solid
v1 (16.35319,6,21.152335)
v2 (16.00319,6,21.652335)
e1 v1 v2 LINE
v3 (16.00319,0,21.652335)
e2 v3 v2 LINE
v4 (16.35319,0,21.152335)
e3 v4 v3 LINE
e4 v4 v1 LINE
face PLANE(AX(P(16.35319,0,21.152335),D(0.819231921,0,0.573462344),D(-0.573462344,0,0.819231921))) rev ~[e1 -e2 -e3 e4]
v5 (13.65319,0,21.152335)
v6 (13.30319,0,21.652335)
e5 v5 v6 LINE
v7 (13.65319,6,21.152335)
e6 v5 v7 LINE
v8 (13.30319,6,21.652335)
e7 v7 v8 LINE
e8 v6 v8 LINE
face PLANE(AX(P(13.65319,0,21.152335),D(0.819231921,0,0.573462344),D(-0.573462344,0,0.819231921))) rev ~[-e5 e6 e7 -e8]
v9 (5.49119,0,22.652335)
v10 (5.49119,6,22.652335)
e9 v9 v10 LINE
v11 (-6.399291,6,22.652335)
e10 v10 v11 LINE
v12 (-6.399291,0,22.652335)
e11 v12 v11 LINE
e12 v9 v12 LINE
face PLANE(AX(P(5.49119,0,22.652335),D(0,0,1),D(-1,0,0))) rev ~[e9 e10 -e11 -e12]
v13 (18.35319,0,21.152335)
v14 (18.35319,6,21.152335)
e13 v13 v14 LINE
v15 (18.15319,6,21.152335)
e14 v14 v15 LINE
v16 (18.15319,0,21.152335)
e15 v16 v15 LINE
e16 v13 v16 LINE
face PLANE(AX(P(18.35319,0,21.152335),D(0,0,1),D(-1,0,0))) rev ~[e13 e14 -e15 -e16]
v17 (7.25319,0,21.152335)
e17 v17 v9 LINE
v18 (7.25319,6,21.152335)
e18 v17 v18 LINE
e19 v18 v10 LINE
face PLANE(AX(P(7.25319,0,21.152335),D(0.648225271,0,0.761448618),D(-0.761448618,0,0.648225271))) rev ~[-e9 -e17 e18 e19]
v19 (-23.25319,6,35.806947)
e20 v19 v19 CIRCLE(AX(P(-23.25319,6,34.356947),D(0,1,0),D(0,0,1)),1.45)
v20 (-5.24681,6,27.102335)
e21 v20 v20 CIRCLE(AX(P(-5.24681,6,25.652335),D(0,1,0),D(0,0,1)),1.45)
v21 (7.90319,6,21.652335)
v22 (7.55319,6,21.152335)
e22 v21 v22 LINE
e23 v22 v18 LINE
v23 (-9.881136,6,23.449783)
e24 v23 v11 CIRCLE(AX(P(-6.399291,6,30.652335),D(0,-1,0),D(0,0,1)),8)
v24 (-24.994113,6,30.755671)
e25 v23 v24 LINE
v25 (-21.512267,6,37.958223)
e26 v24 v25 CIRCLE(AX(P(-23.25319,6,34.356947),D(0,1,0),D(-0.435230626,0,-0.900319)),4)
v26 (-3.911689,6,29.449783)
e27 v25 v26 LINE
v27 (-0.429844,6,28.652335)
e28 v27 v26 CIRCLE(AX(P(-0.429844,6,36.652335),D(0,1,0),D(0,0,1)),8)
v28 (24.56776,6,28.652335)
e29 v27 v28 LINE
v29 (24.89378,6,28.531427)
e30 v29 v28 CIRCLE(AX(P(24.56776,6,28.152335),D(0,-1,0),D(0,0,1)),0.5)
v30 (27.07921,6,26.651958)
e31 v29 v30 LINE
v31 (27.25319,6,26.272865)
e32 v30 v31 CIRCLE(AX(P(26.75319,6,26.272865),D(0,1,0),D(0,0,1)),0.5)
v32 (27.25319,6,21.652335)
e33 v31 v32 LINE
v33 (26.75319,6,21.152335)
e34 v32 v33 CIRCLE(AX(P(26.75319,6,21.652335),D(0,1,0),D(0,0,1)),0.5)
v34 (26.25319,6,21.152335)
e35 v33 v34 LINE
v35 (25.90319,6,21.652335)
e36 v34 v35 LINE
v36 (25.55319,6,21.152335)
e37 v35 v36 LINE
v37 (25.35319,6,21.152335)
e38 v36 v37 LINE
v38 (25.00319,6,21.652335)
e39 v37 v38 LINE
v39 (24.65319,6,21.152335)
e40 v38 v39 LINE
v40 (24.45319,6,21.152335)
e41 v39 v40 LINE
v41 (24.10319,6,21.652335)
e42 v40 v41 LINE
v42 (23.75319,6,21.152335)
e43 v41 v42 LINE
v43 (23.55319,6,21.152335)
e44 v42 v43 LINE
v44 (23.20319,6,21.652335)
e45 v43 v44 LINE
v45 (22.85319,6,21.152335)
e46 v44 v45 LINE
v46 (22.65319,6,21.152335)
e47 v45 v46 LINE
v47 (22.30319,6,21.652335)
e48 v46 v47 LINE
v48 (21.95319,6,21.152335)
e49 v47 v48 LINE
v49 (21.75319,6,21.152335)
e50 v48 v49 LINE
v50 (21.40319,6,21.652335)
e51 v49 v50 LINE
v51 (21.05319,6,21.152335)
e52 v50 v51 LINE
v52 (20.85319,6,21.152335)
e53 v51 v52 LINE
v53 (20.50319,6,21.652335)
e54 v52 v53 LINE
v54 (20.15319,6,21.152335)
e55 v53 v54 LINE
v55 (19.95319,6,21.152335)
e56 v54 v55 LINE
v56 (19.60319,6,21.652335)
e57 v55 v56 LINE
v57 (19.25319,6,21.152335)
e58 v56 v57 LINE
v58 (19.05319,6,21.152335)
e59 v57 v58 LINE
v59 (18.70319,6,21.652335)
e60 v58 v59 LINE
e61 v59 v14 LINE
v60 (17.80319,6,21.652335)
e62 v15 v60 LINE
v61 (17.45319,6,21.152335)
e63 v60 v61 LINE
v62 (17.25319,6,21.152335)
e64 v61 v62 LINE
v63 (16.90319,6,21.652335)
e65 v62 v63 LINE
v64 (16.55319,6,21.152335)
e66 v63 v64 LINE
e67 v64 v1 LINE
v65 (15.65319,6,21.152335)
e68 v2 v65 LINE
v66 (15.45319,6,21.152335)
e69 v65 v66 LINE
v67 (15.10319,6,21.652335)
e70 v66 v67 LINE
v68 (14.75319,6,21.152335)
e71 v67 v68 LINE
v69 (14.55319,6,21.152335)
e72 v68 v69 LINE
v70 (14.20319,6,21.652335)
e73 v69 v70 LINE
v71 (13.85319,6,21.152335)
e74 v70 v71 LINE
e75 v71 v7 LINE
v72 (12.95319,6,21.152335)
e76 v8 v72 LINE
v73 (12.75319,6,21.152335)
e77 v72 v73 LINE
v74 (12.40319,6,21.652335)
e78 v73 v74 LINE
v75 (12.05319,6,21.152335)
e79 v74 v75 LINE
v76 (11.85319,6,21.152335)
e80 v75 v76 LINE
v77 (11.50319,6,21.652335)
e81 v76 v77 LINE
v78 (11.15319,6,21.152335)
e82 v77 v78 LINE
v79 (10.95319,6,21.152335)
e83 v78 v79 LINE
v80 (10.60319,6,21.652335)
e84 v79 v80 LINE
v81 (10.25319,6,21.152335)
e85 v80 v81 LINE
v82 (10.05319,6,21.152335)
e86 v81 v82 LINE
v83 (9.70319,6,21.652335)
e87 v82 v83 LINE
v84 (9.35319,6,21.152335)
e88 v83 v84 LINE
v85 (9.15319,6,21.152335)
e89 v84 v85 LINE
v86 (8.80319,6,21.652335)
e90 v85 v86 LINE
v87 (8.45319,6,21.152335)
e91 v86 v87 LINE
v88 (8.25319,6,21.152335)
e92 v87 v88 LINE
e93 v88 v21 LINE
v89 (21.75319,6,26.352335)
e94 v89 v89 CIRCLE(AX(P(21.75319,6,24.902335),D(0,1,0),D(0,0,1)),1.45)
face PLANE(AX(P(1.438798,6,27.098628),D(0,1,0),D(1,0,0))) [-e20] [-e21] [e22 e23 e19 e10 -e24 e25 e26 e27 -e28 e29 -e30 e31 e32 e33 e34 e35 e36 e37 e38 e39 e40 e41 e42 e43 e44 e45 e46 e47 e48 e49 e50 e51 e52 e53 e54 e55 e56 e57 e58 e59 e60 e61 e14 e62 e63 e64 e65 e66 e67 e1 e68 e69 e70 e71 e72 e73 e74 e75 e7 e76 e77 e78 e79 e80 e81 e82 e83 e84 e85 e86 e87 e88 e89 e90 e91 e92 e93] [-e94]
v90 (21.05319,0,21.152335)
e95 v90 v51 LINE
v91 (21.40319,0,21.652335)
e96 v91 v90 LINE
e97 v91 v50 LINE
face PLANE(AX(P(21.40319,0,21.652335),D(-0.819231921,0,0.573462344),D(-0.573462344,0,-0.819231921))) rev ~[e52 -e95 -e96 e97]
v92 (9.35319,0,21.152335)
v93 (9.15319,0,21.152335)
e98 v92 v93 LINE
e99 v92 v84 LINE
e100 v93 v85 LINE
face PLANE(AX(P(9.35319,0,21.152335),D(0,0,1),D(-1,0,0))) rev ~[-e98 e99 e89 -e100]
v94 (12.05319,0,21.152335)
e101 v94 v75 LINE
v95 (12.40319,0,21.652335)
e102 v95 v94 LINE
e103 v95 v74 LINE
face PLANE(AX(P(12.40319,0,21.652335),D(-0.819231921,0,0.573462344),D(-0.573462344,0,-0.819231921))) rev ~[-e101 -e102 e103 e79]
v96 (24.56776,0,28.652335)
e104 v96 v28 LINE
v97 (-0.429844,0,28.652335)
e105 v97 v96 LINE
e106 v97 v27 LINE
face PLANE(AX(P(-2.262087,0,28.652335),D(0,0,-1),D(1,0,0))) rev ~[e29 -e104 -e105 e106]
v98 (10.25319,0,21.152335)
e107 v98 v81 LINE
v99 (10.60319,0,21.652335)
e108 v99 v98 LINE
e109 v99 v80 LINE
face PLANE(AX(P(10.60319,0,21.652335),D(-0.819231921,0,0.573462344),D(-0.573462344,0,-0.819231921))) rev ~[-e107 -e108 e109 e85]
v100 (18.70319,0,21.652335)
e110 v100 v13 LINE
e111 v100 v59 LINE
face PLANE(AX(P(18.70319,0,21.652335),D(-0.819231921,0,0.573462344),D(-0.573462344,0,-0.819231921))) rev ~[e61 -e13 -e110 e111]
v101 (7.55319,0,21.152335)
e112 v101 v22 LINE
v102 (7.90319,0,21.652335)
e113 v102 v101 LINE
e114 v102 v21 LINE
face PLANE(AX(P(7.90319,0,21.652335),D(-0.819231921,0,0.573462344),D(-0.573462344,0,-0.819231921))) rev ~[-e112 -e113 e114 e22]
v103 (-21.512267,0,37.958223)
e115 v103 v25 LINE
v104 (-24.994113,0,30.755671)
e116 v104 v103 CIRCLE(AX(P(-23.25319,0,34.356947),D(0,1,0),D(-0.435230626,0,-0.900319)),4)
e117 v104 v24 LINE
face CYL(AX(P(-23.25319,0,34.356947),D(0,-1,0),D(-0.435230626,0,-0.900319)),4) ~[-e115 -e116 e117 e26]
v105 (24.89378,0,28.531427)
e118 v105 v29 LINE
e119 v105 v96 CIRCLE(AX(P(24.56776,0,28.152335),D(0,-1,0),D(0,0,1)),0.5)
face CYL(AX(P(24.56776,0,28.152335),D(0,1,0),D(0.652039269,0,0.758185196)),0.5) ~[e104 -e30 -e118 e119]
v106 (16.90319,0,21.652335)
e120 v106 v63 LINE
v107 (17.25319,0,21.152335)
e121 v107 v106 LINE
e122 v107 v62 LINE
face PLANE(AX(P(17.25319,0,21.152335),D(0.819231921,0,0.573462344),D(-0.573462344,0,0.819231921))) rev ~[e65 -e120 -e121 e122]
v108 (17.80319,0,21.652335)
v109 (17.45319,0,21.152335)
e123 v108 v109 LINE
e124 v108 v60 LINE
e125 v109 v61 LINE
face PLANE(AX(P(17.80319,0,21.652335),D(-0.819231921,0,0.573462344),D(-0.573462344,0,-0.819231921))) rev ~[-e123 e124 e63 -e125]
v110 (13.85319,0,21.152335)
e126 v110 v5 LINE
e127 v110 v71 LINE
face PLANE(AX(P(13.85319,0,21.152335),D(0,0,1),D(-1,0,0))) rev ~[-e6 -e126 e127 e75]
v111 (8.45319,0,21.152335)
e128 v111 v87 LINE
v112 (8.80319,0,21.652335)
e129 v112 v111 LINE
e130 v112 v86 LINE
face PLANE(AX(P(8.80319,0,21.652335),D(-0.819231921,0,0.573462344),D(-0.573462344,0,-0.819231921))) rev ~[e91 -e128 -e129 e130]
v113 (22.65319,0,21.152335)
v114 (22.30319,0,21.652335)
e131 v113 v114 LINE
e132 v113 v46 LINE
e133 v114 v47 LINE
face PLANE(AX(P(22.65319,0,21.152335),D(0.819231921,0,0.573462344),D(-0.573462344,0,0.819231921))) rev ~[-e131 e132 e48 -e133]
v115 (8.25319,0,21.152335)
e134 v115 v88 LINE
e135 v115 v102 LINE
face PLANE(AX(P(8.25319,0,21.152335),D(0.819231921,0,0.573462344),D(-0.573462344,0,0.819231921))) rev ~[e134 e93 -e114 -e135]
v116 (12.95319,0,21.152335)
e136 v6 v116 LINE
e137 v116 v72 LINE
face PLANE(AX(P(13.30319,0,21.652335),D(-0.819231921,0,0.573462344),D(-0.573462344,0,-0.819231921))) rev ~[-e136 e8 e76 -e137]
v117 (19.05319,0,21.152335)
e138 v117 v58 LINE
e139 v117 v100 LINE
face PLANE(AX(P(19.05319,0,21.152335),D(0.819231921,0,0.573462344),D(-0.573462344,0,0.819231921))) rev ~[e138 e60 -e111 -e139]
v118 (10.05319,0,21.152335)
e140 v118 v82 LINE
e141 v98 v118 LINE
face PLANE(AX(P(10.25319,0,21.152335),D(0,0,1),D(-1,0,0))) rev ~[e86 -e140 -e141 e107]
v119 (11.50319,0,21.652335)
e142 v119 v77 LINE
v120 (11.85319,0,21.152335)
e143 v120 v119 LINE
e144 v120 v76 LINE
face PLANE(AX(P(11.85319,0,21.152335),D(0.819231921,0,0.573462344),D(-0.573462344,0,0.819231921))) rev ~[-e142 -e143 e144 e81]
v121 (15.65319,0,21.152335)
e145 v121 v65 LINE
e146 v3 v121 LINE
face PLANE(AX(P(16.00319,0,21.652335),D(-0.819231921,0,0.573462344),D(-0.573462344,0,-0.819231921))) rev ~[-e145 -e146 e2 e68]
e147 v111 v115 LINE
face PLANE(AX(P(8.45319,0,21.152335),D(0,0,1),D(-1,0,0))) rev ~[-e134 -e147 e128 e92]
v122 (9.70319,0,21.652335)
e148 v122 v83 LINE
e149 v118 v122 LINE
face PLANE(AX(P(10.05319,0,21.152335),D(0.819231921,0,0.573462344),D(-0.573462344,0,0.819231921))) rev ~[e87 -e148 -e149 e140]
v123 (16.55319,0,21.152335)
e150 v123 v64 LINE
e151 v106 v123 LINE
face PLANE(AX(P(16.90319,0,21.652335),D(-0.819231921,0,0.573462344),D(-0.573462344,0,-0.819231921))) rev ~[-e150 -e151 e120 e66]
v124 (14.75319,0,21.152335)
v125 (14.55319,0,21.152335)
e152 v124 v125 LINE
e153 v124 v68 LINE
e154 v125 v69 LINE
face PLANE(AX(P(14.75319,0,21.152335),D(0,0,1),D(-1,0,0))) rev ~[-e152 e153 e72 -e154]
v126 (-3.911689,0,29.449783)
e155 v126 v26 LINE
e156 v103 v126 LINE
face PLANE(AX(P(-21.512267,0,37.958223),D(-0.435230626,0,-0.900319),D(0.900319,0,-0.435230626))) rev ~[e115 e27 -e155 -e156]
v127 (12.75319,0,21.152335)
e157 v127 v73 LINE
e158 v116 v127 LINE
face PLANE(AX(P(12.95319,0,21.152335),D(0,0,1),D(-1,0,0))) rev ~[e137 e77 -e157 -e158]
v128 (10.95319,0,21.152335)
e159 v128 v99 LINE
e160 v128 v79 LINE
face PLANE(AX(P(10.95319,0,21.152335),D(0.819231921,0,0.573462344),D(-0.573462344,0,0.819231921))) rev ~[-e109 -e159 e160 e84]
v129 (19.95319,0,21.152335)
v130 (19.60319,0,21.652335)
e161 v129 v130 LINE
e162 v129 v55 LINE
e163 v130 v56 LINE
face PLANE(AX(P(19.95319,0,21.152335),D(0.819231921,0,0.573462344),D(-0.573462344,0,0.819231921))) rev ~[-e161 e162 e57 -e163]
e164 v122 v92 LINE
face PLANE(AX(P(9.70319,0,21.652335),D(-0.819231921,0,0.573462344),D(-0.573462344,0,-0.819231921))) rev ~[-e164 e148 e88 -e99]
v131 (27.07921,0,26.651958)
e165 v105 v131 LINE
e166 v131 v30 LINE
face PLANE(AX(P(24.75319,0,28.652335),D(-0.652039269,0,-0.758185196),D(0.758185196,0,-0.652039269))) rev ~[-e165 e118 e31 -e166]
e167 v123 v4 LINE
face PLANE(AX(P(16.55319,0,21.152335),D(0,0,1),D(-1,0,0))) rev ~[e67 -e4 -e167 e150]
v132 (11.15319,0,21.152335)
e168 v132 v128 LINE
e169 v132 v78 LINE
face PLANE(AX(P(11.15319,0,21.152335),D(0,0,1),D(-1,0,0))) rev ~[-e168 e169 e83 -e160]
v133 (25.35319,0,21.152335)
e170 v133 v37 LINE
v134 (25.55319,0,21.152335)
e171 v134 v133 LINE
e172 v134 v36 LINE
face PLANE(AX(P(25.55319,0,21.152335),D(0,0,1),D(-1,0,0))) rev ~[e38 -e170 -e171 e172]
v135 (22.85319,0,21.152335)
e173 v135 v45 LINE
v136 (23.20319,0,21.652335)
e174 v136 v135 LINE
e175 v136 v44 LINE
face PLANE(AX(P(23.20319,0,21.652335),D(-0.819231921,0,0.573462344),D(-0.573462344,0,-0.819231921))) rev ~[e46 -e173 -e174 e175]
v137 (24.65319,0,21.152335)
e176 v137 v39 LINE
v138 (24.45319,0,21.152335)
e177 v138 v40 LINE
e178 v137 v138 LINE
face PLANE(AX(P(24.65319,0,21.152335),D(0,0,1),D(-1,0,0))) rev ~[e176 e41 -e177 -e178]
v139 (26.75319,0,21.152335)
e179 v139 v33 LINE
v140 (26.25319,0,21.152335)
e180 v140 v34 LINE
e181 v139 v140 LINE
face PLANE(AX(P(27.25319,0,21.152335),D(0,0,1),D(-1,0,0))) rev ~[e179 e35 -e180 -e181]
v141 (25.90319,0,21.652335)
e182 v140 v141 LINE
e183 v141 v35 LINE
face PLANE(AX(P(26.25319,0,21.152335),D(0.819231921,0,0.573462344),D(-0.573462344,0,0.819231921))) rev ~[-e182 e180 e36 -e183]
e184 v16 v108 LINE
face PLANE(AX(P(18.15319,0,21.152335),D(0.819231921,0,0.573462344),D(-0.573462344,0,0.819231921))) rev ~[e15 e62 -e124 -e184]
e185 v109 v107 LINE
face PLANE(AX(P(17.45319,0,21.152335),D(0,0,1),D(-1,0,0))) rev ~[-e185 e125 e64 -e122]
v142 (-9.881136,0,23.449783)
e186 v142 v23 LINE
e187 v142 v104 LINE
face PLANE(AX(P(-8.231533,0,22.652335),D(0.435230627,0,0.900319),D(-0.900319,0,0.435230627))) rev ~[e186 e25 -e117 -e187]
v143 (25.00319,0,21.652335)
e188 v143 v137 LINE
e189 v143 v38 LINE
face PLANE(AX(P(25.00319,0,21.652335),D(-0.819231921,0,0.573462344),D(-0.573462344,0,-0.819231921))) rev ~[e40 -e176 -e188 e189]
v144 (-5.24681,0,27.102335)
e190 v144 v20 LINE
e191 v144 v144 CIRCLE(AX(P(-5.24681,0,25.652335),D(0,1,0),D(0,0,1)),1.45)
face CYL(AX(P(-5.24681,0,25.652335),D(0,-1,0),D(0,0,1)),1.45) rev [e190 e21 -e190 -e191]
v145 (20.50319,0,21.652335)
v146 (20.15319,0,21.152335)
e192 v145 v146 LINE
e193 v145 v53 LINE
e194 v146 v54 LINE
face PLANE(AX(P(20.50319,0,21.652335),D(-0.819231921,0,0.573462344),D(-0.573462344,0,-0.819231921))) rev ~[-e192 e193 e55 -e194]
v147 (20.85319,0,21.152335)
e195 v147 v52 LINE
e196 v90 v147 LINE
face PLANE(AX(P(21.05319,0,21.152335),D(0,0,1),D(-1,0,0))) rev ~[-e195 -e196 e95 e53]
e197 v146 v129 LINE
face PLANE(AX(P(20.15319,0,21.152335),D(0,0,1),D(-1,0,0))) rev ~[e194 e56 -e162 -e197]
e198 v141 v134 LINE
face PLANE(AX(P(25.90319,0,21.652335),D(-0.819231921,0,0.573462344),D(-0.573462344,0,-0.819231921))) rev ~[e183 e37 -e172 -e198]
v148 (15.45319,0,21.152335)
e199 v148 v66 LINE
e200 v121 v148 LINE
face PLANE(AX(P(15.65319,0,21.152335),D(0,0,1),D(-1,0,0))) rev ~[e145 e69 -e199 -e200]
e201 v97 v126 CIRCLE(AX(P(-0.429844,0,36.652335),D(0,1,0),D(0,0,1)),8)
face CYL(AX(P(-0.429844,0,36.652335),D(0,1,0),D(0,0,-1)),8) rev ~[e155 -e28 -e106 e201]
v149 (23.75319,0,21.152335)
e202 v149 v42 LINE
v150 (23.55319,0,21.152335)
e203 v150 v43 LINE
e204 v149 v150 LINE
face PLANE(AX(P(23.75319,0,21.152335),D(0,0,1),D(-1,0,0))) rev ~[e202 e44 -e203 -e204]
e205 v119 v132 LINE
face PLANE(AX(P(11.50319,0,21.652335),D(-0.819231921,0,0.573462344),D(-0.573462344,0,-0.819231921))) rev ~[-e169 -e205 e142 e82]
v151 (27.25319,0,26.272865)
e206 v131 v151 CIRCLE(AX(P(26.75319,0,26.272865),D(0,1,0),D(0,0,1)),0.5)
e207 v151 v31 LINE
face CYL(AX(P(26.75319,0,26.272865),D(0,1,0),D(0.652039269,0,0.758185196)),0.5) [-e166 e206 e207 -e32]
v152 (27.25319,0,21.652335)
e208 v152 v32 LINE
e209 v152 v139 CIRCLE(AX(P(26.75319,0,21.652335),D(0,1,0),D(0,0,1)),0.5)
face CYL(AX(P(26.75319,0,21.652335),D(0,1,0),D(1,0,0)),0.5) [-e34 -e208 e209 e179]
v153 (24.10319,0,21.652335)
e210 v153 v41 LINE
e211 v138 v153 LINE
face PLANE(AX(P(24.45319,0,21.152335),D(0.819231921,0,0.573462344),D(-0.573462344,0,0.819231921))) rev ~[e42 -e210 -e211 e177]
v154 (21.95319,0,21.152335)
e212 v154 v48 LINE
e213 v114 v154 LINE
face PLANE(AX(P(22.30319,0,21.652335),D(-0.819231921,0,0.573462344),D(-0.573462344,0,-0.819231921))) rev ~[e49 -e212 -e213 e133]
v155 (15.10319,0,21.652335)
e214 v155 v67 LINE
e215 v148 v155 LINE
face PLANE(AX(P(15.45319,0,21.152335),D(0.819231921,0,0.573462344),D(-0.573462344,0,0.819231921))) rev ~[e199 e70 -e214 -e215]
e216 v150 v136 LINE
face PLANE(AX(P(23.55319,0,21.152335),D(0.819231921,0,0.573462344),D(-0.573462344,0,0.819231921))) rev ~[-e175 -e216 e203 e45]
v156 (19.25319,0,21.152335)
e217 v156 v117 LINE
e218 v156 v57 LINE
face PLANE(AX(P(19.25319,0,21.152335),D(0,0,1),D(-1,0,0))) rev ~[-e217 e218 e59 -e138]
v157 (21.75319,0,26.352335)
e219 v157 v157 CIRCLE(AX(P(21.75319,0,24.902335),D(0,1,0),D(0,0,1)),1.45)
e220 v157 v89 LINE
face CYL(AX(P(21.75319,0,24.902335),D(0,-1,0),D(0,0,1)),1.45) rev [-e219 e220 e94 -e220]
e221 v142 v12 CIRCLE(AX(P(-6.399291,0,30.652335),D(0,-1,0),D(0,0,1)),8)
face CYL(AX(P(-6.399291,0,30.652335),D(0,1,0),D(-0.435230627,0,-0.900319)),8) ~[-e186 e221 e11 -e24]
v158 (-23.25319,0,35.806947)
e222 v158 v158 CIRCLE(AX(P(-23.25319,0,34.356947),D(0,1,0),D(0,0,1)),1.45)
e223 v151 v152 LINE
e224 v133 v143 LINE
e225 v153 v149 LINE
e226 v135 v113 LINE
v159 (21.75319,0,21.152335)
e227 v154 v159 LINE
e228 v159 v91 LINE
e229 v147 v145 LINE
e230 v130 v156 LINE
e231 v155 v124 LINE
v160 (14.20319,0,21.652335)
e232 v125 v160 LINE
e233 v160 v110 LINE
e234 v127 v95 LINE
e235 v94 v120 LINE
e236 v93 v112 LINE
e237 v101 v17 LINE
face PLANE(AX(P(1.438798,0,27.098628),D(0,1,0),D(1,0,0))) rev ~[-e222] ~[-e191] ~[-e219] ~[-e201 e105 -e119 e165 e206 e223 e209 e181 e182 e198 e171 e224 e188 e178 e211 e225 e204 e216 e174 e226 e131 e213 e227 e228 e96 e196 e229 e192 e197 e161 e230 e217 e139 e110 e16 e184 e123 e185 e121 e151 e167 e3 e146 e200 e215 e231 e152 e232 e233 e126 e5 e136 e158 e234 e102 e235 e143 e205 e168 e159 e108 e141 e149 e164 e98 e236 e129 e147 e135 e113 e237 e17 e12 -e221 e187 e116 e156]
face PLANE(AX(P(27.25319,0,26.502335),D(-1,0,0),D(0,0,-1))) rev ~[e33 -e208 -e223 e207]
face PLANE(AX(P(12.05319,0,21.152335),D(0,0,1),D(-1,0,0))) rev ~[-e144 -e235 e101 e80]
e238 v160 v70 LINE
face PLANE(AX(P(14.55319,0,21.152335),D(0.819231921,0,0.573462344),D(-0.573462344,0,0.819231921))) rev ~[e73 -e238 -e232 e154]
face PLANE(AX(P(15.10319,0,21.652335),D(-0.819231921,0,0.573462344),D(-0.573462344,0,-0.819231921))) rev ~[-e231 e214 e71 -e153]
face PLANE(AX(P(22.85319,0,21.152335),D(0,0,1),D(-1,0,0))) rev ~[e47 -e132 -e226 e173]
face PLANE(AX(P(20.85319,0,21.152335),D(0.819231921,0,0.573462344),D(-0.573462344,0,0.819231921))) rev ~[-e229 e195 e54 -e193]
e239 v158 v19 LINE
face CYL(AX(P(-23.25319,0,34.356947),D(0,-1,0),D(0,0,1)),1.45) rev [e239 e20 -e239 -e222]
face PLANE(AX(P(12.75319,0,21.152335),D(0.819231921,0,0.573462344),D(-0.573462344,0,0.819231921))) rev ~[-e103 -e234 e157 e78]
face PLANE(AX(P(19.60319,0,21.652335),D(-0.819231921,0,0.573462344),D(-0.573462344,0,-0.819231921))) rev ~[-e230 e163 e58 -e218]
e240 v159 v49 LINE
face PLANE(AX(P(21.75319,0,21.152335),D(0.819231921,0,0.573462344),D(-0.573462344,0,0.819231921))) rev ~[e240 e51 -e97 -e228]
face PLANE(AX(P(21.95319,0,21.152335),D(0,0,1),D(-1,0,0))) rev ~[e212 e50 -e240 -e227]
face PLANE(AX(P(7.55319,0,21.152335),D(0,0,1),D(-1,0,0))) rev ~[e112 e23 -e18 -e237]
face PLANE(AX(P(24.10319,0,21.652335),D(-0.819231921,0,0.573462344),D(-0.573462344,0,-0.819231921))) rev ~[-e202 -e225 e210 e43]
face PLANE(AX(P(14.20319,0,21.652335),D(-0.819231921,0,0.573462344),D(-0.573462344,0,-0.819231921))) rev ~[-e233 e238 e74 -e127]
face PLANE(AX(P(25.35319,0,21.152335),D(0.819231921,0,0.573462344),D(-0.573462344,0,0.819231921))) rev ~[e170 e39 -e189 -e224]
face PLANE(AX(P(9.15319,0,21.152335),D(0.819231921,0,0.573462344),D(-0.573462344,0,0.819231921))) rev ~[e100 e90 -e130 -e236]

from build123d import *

# Parameters (mm, degrees)
CROQUIS1_R              = 1.45
SALIENTE_EXTRUIR1_DEPTH = 6
REDONDEO1_R             = 0.5
REDONDEO2_R             = 8


with BuildPart() as part:
    # Croquis1 → Saliente-Extruir1 (new body)
    with BuildSketch(Plane(origin=(0, 0, 0), x_dir=(1, 0, 0), z_dir=(0, 1, 0))):
        with BuildLine():
            Line((-2.262086681, -28.652334501), (24.75319, -28.652334501))
            Line((24.75319, -28.652334501), (27.25319, -26.502334501))
            Line((27.25319, -26.502334501), (27.25319, -22.652334501))
            Line((27.25319, -22.652334501), (27.25319, -21.152334501))
            Line((27.25319, -21.152334501), (26.25319, -21.152334501))
            Line((26.25319, -21.152334501), (25.90319, -21.652334501))
            Line((25.90319, -21.652334501), (25.55319, -21.152334501))
            Line((25.55319, -21.152334501), (25.35319, -21.152334501))
            Line((25.35319, -21.152334501), (25.00319, -21.652334501))
            Line((25.00319, -21.652334501), (24.65319, -21.152334501))
            Line((24.65319, -21.152334501), (24.45319, -21.152334501))
            Line((24.45319, -21.152334501), (24.10319, -21.652334501))
            Line((24.10319, -21.652334501), (23.75319, -21.152334501))
            Line((23.75319, -21.152334501), (23.55319, -21.152334501))
            Line((23.55319, -21.152334501), (23.20319, -21.652334501))
            Line((23.20319, -21.652334501), (22.85319, -21.152334501))
            Line((22.85319, -21.152334501), (22.65319, -21.152334501))
            Line((22.65319, -21.152334501), (22.30319, -21.652334501))
            Line((22.30319, -21.652334501), (21.95319, -21.152334501))
            Line((21.95319, -21.152334501), (21.75319, -21.152334501))
            Line((21.75319, -21.152334501), (21.40319, -21.652334501))
            Line((21.40319, -21.652334501), (21.05319, -21.152334501))
            Line((21.05319, -21.152334501), (20.85319, -21.152334501))
            Line((20.85319, -21.152334501), (20.50319, -21.652334501))
            Line((20.50319, -21.652334501), (20.15319, -21.152334501))
            Line((20.15319, -21.152334501), (19.95319, -21.152334501))
            Line((19.95319, -21.152334501), (19.60319, -21.652334501))
            Line((19.60319, -21.652334501), (19.25319, -21.152334501))
            Line((19.25319, -21.152334501), (19.05319, -21.152334501))
            Line((19.05319, -21.152334501), (18.70319, -21.652334501))
            Line((18.70319, -21.652334501), (18.35319, -21.152334501))
            Line((18.35319, -21.152334501), (18.15319, -21.152334501))
            Line((18.15319, -21.152334501), (17.80319, -21.652334501))
            Line((17.80319, -21.652334501), (17.45319, -21.152334501))
            Line((17.45319, -21.152334501), (17.25319, -21.152334501))
            Line((17.25319, -21.152334501), (16.90319, -21.652334501))
            Line((16.90319, -21.652334501), (16.55319, -21.152334501))
            Line((16.55319, -21.152334501), (16.35319, -21.152334501))
            Line((16.35319, -21.152334501), (16.00319, -21.652334501))
            Line((16.00319, -21.652334501), (15.65319, -21.152334501))
            Line((15.65319, -21.152334501), (15.45319, -21.152334501))
            Line((15.45319, -21.152334501), (15.10319, -21.652334501))
            Line((15.10319, -21.652334501), (14.75319, -21.152334501))
            Line((14.75319, -21.152334501), (14.55319, -21.152334501))
            Line((14.55319, -21.152334501), (14.20319, -21.652334501))
            Line((14.20319, -21.652334501), (13.85319, -21.152334501))
            Line((13.85319, -21.152334501), (13.65319, -21.152334501))
            Line((13.65319, -21.152334501), (13.30319, -21.652334501))
            Line((13.30319, -21.652334501), (12.95319, -21.152334501))
            Line((12.95319, -21.152334501), (12.75319, -21.152334501))
            Line((12.75319, -21.152334501), (12.40319, -21.652334501))
            Line((12.40319, -21.652334501), (12.05319, -21.152334501))
            Line((12.05319, -21.152334501), (11.85319, -21.152334501))
            Line((11.85319, -21.152334501), (11.50319, -21.652334501))
            Line((11.50319, -21.652334501), (11.15319, -21.152334501))
            Line((11.15319, -21.152334501), (10.95319, -21.152334501))
            Line((10.95319, -21.152334501), (10.60319, -21.652334501))
            Line((10.60319, -21.652334501), (10.25319, -21.152334501))
            Line((10.25319, -21.152334501), (10.05319, -21.152334501))
            Line((10.05319, -21.152334501), (9.70319, -21.652334501))
            Line((9.70319, -21.652334501), (9.35319, -21.152334501))
            Line((9.35319, -21.152334501), (9.15319, -21.152334501))
            Line((9.15319, -21.152334501), (8.80319, -21.652334501))
            Line((8.80319, -21.652334501), (8.45319, -21.152334501))
            Line((8.45319, -21.152334501), (8.25319, -21.152334501))
            Line((8.25319, -21.152334501), (7.90319, -21.652334501))
            Line((7.90319, -21.652334501), (7.55319, -21.152334501))
            Line((7.55319, -21.152334501), (7.35319, -21.152334501))
            Line((7.35319, -21.152334501), (7.25319, -21.152334501))
            Line((7.25319, -21.152334501), (5.49119, -22.652334501))
            Line((5.49119, -22.652334501), (-5.24681, -22.652334501))
            Line((-5.24681, -22.652334501), (-8.231533319, -22.652334501))
            Line((-8.231533319, -22.652334501), (-24.994112506, -30.755671031))
            ThreePointArc((-24.994112506, -30.755671031), (-26.854466, -36.097869537), (-21.512267494, -37.958223031))
            Line((-21.512267494, -37.958223031), (-2.262086681, -28.652334501))
        make_face()
        with Locations((-23.25319, -34.356947031)):
            Circle(CROQUIS1_R, mode=Mode.SUBTRACT)
        with Locations((-5.24681, -25.652334501)):
            Circle(CROQUIS1_R, mode=Mode.SUBTRACT)
        with Locations((21.75319, -24.902334501)):
            Circle(CROQUIS1_R, mode=Mode.SUBTRACT)
    extrude(amount=SALIENTE_EXTRUIR1_DEPTH)

    # Redondeo1
    redondeo1_edges = [part.edges().sort_by_distance(p)[0] for p in [
        (24.75319, 3, 28.652334501),
        (27.25319, 3, 26.502334501),
        (27.25319, 3, 21.152334501),
    ]]
    fillet(redondeo1_edges, radius=REDONDEO1_R)

    # Redondeo2
    redondeo2_edges = [part.edges().sort_by_distance(p)[0] for p in [
        (-2.262086681, 3, 28.652334501),
        (-8.231533319, 3, 22.652334501),
    ]]
    fillet(redondeo2_edges, radius=REDONDEO2_R)


solid = part.part
